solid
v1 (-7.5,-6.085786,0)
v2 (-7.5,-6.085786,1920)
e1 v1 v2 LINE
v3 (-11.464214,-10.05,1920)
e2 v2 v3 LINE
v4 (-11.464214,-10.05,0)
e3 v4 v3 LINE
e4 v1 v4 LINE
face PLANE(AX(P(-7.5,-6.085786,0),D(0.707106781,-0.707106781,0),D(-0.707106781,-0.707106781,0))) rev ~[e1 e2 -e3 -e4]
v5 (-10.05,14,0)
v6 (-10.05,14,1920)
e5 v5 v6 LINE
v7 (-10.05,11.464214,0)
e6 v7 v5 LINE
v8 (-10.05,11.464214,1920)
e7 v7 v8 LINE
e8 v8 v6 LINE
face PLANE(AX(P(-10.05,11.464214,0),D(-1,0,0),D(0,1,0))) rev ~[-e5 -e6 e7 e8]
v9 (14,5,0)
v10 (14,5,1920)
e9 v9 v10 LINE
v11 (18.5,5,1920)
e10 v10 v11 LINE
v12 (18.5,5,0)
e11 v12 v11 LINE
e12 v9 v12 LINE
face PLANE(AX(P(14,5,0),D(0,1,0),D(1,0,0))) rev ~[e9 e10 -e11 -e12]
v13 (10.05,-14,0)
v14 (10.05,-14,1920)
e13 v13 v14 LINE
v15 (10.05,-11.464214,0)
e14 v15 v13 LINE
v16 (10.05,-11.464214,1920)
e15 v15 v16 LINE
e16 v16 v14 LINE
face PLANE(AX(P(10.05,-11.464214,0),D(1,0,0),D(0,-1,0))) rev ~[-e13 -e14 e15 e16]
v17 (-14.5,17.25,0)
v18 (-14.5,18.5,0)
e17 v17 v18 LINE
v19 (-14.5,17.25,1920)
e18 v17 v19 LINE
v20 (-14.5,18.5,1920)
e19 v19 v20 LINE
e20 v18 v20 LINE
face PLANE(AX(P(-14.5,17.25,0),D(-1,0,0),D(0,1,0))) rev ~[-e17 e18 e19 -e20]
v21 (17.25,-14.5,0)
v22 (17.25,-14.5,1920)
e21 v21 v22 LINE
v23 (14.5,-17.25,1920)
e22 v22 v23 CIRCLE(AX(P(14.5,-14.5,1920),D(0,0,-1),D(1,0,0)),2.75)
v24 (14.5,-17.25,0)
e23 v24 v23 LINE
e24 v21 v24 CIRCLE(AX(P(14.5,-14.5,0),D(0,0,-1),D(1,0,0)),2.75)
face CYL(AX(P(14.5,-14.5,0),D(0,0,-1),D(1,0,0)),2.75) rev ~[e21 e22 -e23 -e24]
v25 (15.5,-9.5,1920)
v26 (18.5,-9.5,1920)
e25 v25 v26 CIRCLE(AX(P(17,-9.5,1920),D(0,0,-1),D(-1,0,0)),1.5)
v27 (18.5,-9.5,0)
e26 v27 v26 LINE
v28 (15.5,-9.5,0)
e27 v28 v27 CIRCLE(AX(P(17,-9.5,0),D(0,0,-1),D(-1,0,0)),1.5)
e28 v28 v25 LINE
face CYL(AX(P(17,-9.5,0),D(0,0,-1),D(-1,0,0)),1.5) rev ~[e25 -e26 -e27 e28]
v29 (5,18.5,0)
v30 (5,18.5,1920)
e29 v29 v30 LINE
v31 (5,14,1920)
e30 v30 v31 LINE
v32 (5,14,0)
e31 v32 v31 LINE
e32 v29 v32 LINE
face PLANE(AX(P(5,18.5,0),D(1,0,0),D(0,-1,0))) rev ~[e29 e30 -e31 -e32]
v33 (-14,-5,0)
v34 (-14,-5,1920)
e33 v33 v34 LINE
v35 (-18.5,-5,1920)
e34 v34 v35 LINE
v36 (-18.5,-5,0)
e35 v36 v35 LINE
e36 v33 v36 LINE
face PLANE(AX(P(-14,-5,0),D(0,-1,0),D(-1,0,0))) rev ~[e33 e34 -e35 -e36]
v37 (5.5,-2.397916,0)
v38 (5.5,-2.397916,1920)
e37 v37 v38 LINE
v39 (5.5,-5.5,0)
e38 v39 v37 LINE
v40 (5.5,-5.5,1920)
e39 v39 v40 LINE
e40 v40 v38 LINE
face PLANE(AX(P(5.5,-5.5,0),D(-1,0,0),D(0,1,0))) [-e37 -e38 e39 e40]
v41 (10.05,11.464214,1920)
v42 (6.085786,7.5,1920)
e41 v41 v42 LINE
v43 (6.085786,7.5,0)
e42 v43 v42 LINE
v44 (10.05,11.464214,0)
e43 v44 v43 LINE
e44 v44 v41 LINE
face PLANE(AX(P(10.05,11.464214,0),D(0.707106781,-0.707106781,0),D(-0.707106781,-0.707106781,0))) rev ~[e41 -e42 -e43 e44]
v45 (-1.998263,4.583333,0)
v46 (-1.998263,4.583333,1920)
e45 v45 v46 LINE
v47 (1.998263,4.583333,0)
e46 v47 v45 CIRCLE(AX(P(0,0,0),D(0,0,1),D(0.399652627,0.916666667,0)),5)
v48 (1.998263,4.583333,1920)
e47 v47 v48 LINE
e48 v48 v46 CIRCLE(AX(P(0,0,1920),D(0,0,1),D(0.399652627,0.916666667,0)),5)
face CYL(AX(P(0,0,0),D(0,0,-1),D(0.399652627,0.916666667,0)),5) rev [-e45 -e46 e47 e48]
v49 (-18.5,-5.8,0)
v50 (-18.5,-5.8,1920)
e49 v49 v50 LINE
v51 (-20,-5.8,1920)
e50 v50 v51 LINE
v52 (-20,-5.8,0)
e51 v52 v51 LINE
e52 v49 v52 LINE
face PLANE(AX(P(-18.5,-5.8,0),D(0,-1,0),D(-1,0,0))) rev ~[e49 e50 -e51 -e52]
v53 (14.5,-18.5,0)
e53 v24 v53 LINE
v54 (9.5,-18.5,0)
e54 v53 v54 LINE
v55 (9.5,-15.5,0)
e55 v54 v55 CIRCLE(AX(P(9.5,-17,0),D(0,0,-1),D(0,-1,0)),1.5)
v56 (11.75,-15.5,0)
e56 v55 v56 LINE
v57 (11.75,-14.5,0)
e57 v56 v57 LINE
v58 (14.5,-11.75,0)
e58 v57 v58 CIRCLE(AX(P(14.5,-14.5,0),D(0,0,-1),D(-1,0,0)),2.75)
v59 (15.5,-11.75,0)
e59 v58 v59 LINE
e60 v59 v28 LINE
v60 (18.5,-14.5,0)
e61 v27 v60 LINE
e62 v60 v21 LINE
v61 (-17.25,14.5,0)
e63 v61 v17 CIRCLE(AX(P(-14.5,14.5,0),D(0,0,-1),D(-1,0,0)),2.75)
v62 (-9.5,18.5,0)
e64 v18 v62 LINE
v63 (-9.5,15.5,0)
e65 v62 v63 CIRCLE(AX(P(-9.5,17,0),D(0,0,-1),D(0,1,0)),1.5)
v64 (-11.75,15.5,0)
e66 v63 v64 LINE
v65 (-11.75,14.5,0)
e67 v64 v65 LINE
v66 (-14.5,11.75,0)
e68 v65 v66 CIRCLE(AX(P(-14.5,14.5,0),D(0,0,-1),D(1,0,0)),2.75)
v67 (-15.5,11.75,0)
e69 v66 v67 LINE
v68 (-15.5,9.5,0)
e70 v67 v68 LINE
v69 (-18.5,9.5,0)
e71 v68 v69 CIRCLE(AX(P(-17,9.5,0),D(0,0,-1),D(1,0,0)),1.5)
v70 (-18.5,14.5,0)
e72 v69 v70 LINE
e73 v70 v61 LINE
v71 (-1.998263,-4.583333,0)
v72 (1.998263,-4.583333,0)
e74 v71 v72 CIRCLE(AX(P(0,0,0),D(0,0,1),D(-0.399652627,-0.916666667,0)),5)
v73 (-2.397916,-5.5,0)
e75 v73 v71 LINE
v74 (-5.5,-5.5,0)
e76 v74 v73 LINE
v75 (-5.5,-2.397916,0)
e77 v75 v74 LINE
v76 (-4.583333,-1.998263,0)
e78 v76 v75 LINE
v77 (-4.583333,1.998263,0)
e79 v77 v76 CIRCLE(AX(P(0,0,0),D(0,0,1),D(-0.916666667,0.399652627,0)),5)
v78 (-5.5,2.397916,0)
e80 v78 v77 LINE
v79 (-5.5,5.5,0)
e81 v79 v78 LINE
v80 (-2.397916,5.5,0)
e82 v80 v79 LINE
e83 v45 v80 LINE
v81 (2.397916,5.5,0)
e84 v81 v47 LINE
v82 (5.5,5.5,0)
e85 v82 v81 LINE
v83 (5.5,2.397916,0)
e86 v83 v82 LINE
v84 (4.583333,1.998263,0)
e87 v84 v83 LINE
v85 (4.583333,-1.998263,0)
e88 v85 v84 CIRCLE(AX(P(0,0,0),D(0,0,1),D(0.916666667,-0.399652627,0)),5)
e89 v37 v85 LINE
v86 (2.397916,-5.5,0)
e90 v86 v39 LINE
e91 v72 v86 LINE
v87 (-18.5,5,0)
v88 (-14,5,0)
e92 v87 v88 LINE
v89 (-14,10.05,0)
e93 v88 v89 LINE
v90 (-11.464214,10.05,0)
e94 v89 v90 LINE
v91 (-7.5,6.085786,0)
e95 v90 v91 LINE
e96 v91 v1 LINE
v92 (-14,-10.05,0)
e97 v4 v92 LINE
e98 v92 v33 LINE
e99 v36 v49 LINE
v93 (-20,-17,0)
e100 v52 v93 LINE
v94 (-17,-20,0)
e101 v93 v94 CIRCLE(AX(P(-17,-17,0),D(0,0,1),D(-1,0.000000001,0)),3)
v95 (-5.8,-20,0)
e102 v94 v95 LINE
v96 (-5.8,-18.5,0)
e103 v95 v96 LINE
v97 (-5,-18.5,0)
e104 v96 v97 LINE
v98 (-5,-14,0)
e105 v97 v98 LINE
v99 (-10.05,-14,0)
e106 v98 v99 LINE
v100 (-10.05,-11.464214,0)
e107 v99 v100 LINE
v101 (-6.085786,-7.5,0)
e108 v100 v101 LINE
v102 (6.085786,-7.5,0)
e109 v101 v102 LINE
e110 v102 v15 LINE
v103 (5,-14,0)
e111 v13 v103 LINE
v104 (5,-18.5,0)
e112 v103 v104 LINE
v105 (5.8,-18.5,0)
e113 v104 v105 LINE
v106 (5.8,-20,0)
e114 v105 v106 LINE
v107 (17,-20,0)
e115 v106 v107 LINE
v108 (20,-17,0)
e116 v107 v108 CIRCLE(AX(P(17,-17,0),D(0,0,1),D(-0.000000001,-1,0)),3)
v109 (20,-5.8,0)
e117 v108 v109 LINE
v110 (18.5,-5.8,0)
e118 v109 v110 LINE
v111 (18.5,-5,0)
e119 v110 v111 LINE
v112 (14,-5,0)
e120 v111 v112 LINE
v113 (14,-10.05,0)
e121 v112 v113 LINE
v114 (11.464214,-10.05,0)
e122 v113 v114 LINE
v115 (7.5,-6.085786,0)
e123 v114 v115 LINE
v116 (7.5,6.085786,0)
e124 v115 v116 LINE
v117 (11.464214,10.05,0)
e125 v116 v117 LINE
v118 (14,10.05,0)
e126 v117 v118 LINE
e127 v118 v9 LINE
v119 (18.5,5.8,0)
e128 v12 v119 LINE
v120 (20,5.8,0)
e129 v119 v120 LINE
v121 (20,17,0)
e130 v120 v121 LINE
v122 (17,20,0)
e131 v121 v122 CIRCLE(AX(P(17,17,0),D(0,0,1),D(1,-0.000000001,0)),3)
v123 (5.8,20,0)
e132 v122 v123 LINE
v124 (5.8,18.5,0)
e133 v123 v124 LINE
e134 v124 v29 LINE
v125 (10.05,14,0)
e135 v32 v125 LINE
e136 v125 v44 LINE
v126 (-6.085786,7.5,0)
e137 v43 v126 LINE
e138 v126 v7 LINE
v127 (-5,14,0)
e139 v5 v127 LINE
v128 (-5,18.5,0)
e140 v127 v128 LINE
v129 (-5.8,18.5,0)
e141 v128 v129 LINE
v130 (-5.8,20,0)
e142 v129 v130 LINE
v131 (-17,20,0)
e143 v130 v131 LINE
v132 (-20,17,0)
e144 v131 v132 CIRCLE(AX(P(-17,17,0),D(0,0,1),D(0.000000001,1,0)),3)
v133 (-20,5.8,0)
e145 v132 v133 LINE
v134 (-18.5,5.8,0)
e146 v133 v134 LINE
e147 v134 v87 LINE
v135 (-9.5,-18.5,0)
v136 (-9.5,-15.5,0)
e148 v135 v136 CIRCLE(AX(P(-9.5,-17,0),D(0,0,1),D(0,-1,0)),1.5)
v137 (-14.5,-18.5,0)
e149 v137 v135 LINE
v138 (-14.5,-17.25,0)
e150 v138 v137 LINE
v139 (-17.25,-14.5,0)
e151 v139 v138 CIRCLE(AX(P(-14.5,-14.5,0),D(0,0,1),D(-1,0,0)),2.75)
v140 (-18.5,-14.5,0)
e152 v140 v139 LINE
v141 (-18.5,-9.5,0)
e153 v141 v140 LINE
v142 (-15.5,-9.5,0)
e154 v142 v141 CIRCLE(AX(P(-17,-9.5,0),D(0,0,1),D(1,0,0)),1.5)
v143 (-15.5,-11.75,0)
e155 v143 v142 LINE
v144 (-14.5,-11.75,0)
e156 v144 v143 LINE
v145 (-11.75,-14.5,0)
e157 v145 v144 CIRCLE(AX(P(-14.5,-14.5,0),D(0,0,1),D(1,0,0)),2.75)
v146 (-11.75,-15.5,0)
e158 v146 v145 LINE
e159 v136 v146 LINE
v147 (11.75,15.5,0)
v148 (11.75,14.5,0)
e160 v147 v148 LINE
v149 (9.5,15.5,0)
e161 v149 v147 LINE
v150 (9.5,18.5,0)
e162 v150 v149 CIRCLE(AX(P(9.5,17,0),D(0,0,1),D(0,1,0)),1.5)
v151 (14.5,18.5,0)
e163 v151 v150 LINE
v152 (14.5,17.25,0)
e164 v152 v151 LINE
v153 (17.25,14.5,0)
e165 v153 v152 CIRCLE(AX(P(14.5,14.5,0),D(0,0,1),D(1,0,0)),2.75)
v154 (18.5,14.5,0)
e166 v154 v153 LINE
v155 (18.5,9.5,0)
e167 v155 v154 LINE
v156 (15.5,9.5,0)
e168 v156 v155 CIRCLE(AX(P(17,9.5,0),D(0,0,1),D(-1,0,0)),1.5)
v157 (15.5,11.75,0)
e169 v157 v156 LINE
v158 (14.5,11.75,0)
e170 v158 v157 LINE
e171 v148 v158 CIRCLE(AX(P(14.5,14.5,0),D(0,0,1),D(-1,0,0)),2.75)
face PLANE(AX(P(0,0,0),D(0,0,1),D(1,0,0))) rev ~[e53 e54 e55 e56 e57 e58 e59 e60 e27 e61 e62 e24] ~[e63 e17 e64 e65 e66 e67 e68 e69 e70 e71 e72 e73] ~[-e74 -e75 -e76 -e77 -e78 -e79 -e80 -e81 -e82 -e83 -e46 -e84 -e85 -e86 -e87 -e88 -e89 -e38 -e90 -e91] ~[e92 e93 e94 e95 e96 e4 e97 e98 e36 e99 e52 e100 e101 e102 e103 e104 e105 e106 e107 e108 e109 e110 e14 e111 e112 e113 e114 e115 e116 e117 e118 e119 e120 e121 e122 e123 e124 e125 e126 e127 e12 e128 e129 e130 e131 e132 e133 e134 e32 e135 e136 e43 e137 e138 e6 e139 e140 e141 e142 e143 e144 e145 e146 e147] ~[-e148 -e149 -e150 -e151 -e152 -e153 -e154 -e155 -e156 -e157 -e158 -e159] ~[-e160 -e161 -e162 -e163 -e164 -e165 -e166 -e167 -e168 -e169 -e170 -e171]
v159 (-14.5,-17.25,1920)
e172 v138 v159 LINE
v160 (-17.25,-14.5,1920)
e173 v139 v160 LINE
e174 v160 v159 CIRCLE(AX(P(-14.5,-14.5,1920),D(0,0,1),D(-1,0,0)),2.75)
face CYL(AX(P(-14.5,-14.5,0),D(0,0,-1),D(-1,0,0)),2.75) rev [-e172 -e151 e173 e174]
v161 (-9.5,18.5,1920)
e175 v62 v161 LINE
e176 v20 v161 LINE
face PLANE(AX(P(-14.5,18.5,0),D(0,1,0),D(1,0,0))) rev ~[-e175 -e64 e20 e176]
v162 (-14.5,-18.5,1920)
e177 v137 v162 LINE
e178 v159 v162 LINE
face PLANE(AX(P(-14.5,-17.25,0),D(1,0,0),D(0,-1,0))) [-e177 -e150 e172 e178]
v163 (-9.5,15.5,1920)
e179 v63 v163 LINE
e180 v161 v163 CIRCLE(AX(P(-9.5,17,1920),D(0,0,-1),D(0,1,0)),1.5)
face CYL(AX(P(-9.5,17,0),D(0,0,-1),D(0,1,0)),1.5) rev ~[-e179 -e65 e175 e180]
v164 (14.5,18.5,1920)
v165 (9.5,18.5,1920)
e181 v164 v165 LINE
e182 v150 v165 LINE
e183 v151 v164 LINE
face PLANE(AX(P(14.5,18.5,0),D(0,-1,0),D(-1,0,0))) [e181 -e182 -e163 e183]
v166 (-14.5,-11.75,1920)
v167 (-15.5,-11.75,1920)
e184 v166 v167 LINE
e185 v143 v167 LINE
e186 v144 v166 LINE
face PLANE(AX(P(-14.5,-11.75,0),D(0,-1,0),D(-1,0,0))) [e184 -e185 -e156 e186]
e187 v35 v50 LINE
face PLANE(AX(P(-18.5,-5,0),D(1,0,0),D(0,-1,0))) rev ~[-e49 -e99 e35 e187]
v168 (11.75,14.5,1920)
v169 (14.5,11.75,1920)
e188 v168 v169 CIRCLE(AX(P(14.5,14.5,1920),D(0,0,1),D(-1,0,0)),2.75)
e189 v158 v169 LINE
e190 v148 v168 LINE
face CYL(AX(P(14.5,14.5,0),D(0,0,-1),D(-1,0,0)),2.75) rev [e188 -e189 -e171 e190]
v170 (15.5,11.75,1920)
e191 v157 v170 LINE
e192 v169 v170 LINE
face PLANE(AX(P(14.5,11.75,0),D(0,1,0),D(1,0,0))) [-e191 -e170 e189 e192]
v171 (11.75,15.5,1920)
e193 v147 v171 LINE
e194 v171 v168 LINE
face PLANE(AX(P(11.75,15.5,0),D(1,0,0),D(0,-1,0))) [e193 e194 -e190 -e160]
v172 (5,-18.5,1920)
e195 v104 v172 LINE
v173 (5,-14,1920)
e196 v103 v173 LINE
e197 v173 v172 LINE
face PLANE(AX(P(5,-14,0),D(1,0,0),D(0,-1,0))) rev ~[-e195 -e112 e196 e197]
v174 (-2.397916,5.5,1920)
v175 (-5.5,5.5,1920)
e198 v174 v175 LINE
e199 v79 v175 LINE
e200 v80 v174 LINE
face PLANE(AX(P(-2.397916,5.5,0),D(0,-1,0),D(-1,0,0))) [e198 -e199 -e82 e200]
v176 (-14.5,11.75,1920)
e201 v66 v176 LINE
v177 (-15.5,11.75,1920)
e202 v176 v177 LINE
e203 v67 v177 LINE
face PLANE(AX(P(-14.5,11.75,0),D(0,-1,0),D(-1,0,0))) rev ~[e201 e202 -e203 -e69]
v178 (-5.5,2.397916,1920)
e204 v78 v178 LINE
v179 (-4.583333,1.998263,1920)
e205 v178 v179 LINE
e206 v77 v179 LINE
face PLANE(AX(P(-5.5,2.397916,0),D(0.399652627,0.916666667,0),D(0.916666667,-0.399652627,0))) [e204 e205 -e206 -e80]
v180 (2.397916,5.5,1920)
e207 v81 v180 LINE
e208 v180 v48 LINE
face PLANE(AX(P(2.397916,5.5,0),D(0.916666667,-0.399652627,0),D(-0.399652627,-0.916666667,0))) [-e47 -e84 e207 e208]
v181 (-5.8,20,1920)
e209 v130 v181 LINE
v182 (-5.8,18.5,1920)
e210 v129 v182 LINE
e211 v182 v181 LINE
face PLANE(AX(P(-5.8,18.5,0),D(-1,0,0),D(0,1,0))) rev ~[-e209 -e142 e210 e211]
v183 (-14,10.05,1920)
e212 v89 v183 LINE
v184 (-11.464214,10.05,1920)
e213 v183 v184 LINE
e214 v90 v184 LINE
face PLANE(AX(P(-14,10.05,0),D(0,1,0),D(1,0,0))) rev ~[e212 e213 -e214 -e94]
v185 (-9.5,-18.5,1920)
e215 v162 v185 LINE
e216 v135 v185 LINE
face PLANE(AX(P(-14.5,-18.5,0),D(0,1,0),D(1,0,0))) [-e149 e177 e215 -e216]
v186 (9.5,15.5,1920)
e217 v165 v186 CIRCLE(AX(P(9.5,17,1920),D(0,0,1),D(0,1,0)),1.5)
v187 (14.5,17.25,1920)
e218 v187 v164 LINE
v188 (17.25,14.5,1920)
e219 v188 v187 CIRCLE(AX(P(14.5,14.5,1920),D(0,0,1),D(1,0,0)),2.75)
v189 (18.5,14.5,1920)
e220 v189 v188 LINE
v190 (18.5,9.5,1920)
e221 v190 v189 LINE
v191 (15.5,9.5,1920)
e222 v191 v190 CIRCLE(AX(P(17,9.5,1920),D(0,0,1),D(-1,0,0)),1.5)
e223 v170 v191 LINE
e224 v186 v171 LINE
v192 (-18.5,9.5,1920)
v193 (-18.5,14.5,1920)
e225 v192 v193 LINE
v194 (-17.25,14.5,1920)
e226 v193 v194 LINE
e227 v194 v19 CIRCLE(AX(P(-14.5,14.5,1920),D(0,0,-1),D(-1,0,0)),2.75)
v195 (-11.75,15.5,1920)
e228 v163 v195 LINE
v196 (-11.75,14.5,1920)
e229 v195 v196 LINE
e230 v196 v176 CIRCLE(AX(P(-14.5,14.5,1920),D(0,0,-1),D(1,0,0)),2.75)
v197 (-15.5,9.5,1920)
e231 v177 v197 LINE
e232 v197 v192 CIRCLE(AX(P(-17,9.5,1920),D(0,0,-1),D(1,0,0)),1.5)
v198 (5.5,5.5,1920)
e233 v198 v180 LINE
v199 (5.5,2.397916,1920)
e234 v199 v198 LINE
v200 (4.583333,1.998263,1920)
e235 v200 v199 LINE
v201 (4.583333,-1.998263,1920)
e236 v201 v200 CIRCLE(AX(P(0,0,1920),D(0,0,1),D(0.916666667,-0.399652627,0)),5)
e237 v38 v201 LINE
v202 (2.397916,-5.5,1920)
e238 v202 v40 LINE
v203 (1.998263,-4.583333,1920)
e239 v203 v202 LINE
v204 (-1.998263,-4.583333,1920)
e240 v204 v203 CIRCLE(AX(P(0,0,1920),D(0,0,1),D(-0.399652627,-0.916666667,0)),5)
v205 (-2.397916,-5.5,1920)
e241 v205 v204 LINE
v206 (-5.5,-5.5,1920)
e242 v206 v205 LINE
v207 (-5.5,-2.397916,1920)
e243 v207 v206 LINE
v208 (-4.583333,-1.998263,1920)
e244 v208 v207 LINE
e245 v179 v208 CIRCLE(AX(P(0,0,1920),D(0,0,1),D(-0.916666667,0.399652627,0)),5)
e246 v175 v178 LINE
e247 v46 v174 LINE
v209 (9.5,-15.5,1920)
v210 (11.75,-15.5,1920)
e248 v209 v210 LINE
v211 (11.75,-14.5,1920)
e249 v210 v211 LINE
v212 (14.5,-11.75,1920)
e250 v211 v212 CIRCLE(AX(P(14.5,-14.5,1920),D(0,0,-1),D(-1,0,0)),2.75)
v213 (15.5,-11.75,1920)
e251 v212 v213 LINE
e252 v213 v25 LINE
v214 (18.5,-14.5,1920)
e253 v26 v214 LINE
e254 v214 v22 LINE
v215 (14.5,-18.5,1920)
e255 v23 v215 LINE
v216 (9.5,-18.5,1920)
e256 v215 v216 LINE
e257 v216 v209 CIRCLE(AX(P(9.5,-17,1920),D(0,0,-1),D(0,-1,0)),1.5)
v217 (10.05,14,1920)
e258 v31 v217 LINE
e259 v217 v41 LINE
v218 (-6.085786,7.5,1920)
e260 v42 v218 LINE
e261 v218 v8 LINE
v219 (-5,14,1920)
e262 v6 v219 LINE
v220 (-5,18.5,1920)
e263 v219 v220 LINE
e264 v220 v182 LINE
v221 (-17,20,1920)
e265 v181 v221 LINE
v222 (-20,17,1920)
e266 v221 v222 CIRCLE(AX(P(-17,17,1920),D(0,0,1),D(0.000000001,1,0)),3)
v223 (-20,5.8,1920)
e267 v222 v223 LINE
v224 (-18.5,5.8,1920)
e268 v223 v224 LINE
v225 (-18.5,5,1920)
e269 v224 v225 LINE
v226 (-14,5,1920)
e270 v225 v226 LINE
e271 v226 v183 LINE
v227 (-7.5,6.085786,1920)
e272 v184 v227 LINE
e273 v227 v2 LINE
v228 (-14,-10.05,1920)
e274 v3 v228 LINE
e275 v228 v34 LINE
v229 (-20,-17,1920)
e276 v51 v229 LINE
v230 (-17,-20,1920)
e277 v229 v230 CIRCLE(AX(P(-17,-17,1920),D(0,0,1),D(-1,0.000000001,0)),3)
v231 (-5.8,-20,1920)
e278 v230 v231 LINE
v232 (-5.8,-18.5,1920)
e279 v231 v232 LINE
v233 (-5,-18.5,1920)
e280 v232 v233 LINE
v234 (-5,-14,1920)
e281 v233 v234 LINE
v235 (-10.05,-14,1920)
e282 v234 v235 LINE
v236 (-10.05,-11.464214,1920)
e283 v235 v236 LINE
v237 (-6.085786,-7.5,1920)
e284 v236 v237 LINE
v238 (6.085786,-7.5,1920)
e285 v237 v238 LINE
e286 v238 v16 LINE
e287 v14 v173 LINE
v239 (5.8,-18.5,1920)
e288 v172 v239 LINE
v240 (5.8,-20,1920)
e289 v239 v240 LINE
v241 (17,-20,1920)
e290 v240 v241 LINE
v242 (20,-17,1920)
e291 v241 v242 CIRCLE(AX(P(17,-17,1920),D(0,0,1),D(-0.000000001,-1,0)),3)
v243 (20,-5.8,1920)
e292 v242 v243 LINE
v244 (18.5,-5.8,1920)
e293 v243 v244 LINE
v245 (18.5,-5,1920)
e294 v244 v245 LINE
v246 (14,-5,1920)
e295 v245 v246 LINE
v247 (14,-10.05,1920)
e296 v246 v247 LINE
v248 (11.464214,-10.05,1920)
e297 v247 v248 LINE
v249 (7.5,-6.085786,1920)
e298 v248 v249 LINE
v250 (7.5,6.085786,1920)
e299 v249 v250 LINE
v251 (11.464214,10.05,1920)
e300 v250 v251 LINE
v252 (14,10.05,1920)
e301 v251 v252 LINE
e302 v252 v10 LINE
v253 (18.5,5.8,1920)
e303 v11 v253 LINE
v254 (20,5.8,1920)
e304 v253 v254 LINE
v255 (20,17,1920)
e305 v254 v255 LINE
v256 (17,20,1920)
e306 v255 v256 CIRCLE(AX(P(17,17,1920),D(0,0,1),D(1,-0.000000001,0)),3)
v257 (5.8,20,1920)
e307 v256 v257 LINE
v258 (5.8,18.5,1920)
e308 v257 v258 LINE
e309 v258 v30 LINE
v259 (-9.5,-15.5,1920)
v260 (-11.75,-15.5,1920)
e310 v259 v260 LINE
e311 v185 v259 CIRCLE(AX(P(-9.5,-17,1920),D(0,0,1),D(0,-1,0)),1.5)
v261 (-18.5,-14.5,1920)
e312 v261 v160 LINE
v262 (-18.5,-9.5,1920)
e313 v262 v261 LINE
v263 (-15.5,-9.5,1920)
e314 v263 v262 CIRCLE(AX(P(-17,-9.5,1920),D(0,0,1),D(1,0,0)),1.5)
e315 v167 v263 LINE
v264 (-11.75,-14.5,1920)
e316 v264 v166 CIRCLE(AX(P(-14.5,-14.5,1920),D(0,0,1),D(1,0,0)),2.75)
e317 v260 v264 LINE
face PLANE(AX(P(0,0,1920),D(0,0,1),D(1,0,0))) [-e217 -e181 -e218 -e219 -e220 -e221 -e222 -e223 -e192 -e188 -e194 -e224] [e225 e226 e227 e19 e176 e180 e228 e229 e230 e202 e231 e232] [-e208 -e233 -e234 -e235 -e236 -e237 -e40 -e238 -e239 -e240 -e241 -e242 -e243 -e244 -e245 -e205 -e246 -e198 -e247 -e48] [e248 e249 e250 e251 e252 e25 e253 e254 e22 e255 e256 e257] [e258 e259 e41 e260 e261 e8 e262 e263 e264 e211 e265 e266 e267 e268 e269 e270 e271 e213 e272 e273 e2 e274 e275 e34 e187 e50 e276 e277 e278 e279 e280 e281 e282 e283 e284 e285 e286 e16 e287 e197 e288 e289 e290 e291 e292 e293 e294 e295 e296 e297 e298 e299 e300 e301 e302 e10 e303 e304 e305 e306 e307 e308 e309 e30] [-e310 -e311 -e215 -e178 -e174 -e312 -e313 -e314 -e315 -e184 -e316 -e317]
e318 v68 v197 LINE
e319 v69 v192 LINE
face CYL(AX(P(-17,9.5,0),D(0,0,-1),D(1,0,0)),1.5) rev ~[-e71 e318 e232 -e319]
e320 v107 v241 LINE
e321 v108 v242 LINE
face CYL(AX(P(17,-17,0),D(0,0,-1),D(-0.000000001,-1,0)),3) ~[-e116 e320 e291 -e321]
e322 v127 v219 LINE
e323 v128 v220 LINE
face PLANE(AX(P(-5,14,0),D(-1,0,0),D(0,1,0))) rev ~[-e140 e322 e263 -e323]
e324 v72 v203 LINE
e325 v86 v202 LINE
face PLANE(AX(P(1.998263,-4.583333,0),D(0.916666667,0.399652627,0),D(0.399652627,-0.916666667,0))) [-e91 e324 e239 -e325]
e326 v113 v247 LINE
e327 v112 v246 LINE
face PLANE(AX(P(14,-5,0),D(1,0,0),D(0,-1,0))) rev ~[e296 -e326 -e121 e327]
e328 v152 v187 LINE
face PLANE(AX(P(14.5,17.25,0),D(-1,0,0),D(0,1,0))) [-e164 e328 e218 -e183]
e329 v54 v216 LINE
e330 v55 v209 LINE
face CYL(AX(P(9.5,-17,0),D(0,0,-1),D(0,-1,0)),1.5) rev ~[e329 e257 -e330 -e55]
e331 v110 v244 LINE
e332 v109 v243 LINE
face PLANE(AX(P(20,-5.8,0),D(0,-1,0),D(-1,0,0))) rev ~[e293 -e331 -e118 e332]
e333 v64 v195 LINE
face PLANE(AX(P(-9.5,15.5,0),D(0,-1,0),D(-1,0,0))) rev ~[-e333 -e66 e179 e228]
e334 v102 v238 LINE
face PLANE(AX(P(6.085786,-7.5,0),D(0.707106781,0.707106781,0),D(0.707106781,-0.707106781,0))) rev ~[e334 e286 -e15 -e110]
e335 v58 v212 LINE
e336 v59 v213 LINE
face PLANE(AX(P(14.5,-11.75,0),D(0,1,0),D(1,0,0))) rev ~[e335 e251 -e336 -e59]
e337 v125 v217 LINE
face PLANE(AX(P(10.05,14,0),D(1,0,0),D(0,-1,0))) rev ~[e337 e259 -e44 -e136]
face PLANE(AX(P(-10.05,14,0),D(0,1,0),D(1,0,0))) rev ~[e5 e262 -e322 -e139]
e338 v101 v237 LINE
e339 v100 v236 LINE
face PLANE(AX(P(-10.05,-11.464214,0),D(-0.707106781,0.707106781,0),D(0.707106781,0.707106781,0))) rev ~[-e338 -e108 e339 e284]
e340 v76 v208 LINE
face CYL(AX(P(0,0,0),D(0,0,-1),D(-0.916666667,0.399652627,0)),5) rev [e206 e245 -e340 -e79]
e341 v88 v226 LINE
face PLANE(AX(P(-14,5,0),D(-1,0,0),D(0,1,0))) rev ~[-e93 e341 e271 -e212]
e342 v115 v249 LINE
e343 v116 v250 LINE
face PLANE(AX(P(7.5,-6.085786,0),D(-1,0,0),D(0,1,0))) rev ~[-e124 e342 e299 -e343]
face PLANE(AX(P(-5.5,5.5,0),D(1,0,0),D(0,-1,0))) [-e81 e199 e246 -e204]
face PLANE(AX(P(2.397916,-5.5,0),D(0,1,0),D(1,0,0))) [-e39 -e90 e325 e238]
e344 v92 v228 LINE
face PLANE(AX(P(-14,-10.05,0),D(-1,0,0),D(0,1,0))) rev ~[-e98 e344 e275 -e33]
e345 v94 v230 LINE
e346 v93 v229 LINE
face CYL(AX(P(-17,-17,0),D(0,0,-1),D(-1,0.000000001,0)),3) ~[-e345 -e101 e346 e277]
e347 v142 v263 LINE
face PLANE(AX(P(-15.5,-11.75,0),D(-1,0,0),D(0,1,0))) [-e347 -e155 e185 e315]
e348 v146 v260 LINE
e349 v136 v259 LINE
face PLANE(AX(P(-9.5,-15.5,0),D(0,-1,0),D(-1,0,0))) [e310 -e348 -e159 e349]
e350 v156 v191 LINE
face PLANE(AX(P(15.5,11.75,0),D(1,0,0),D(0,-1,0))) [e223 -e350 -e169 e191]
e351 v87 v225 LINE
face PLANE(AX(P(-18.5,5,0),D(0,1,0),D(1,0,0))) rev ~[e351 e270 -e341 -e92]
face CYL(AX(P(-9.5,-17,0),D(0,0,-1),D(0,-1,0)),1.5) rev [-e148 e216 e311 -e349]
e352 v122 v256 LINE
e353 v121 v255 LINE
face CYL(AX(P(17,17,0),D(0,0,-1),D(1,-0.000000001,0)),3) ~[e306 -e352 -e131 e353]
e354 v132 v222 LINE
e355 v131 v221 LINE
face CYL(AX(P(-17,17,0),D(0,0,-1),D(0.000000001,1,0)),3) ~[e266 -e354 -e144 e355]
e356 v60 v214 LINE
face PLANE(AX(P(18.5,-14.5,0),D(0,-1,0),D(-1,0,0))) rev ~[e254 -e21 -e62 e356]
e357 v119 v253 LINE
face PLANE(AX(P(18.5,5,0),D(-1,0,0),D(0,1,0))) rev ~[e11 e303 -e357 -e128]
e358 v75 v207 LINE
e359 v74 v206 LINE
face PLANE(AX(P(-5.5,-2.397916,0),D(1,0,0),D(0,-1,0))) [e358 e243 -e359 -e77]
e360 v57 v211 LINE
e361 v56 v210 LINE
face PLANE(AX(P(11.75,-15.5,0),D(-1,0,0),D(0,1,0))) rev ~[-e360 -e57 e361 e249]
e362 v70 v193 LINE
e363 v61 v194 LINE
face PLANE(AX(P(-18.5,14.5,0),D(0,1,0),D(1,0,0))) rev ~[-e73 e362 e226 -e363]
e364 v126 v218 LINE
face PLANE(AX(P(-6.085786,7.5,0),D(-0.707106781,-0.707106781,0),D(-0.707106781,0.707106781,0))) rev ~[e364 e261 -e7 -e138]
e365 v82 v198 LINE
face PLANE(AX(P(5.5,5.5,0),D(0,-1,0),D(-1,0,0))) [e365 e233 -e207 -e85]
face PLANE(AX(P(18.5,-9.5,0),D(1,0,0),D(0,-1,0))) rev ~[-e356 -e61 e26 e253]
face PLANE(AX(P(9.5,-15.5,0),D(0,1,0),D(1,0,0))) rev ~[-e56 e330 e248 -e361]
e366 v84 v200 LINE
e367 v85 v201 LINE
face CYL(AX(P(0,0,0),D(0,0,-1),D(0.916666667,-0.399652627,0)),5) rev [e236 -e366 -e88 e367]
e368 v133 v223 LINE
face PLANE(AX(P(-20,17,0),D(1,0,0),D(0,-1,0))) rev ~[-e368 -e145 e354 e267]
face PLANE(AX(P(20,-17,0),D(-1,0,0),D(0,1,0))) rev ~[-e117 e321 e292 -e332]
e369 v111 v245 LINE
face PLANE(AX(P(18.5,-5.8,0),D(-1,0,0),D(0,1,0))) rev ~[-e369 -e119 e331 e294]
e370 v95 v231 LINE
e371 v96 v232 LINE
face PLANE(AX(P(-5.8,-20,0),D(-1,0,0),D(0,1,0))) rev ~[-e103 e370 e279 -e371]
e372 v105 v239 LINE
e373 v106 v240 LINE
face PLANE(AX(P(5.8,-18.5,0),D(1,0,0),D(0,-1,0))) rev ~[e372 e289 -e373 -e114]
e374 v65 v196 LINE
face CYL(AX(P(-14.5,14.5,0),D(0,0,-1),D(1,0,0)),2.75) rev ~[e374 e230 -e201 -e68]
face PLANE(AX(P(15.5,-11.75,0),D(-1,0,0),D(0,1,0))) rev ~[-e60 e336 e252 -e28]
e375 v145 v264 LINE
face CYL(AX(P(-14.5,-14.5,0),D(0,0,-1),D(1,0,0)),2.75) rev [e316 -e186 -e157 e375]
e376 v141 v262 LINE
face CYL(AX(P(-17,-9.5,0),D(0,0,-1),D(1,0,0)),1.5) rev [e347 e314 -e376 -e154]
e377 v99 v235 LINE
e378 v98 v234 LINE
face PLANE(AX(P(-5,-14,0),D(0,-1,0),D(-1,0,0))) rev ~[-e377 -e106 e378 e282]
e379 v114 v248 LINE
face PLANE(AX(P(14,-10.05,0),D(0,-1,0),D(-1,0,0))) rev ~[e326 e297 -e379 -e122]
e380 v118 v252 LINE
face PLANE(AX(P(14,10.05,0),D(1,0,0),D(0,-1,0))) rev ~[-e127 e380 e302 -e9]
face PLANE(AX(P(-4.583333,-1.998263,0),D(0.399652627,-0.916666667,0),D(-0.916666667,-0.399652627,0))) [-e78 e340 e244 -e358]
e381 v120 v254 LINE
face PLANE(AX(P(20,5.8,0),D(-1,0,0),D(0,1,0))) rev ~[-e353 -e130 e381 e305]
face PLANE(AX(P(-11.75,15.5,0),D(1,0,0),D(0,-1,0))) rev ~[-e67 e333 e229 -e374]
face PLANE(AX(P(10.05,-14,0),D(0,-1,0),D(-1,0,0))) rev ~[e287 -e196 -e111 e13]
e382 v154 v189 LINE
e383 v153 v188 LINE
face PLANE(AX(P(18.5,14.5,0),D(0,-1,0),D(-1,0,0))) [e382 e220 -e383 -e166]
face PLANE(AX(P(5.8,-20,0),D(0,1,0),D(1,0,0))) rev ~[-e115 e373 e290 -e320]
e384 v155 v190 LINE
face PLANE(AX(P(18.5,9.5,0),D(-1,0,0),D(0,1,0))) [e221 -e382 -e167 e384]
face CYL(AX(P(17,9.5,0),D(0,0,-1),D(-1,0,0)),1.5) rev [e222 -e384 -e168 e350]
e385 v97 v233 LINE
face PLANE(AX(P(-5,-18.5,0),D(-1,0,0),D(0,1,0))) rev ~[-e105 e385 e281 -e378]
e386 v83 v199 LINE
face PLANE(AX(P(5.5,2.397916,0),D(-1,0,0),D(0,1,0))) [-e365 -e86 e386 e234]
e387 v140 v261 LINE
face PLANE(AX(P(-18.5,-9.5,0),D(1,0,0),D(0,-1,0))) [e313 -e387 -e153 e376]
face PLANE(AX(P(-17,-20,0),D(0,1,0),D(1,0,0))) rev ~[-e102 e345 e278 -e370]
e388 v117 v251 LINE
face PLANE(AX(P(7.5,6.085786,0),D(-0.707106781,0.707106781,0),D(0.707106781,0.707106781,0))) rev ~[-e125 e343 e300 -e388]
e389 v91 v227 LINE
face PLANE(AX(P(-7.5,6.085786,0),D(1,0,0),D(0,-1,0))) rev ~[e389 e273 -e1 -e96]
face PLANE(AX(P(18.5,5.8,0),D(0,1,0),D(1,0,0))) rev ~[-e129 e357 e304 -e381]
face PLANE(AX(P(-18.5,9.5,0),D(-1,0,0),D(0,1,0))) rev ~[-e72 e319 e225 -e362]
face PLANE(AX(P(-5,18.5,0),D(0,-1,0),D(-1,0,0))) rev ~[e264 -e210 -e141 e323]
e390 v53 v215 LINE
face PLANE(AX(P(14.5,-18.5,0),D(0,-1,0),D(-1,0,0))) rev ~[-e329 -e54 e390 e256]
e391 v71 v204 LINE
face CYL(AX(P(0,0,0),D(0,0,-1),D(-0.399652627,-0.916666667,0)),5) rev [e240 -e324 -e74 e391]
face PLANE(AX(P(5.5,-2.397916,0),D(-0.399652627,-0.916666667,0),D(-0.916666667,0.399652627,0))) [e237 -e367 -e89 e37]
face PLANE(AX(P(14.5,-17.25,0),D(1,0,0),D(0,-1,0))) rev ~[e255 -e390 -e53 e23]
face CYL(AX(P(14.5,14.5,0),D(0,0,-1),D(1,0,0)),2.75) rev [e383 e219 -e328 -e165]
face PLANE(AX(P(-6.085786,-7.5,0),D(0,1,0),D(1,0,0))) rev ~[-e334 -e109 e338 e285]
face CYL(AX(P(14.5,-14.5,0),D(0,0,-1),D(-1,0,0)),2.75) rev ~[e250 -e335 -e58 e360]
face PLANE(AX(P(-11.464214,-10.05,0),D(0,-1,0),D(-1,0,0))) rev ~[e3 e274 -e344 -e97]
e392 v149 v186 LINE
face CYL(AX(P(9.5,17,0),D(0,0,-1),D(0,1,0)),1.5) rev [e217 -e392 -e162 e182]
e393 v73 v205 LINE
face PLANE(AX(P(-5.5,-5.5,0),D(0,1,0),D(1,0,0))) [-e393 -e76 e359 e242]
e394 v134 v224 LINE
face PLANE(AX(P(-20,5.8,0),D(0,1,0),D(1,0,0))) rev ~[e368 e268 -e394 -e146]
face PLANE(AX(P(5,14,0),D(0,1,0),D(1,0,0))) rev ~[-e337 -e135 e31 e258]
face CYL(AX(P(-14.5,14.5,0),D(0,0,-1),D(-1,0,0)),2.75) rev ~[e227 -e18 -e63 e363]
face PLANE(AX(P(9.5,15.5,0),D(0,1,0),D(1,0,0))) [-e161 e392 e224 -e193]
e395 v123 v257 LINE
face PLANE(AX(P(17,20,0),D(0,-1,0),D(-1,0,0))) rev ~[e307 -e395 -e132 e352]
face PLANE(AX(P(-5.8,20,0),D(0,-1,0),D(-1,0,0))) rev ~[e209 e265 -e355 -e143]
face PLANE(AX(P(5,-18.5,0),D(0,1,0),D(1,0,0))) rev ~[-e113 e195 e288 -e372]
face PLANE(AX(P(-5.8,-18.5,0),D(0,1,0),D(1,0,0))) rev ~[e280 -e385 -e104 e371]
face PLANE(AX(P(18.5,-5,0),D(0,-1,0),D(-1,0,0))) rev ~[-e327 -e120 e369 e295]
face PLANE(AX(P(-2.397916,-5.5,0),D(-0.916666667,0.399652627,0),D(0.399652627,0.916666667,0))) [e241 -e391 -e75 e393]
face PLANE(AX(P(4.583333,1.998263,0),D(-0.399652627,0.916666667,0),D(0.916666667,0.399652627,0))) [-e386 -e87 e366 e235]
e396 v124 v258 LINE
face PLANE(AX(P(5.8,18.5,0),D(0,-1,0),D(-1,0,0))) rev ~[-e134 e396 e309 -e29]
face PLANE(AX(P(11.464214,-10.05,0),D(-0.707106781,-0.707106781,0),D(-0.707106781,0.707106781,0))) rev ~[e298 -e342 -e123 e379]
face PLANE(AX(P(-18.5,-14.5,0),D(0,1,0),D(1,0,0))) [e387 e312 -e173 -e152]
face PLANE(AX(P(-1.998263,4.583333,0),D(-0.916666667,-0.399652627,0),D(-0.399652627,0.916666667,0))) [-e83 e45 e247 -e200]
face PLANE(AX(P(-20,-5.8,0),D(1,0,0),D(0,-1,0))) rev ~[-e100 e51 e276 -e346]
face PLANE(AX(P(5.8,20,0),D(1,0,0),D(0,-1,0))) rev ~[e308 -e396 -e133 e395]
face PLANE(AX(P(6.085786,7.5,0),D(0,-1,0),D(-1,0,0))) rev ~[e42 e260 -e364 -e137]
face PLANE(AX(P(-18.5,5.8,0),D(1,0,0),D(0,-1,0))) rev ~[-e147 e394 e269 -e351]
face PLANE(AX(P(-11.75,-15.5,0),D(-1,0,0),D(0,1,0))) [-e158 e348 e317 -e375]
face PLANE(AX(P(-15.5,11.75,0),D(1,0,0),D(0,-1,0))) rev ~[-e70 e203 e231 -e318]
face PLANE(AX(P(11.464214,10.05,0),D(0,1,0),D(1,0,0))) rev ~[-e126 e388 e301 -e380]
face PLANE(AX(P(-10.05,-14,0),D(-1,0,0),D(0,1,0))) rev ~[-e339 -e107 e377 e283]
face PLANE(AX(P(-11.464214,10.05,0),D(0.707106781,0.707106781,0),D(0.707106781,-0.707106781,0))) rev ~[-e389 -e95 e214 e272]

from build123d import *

# Parameters (mm, degrees)
EXTRUDE1_DEPTH = 1920


with BuildPart() as part:
    # Sketch1 → Extrude1 (new body)
    with BuildSketch(Plane.XY):
        with BuildLine():
            Line((5.8, -20), (17, -20))
            ThreePointArc((17, -20), (19.121320344, -19.121320344), (20, -17))
            Line((20, -17), (20, -5.8))
            Line((20, -5.8), (18.5, -5.8))
            Line((18.5, -5.8), (18.5, -5))
            Line((18.5, -5), (14, -5))
            Line((14, -5), (14, -10.05))
            Line((14, -10.05), (11.464213562, -10.05))
            Line((11.464213562, -10.05), (7.5, -6.085786438))
            Line((7.5, -6.085786438), (7.5, 6.085786438))
            Line((7.5, 6.085786438), (11.464213562, 10.05))
            Line((11.464213562, 10.05), (14, 10.05))
            Line((14, 10.05), (14, 5))
            Line((14, 5), (18.5, 5))
            Line((18.5, 5), (18.5, 5.8))
            Line((18.5, 5.8), (20, 5.8))
            Line((20, 5.8), (20, 17))
            ThreePointArc((20, 17), (19.121320344, 19.121320344), (17, 20))
            Line((17, 20), (5.8, 20))
            Line((5.8, 20), (5.8, 18.5))
            Line((5.8, 18.5), (5, 18.5))
            Line((5, 18.5), (5, 14))
            Line((5, 14), (10.05, 14))
            Line((10.05, 14), (10.05, 11.464213562))
            Line((10.05, 11.464213562), (6.085786438, 7.5))
            Line((6.085786438, 7.5), (-6.085786438, 7.5))
            Line((-6.085786438, 7.5), (-10.05, 11.464213562))
            Line((-10.05, 11.464213562), (-10.05, 14))
            Line((-10.05, 14), (-5, 14))
            Line((-5, 14), (-5, 18.5))
            Line((-5, 18.5), (-5.8, 18.5))
            Line((-5.8, 18.5), (-5.8, 20))
            Line((-5.8, 20), (-17, 20))
            ThreePointArc((-17, 20), (-19.121320344, 19.121320344), (-20, 17))
            Line((-20, 17), (-20, 5.8))
            Line((-20, 5.8), (-18.5, 5.8))
            Line((-18.5, 5.8), (-18.5, 5))
            Line((-18.5, 5), (-14, 5))
            Line((-14, 5), (-14, 10.05))
            Line((-14, 10.05), (-11.464213562, 10.05))
            Line((-11.464213562, 10.05), (-7.5, 6.085786438))
            Line((-7.5, 6.085786438), (-7.5, -6.085786438))
            Line((-7.5, -6.085786438), (-11.464213562, -10.05))
            Line((-11.464213562, -10.05), (-14, -10.05))
            Line((-14, -10.05), (-14, -5))
            Line((-14, -5), (-18.5, -5))
            Line((-18.5, -5), (-18.5, -5.8))
            Line((-18.5, -5.8), (-20, -5.8))
            Line((-20, -5.8), (-20, -17))
            ThreePointArc((-20, -17), (-19.121320344, -19.121320344), (-17, -20))
            Line((-17, -20), (-5.8, -20))
            Line((-5.8, -20), (-5.8, -18.5))
            Line((-5.8, -18.5), (-5, -18.5))
            Line((-5, -18.5), (-5, -14))
            Line((-5, -14), (-10.05, -14))
            Line((-10.05, -14), (-10.05, -11.464213562))
            Line((-10.05, -11.464213562), (-6.085786438, -7.5))
            Line((-6.085786438, -7.5), (6.085786438, -7.5))
            Line((6.085786438, -7.5), (10.05, -11.464213562))
            Line((10.05, -11.464213562), (10.05, -14))
            Line((10.05, -14), (5, -14))
            Line((5, -14), (5, -18.5))
            Line((5, -18.5), (5.8, -18.5))
            Line((5.8, -18.5), (5.8, -20))
        make_face()
        with BuildLine():
            Line((14.5, -18.5), (9.5, -18.5))
            ThreePointArc((9.5, -18.5), (8, -17), (9.5, -15.5))
            Line((9.5, -15.5), (11.75, -15.5))
            Line((11.75, -15.5), (11.75, -14.5))
            ThreePointArc((11.75, -14.5), (12.555456352, -12.555456352), (14.5, -11.75))
            Line((14.5, -11.75), (15.5, -11.75))
            Line((15.5, -11.75), (15.5, -9.5))
            ThreePointArc((15.5, -9.5), (17, -8), (18.5, -9.5))
            Line((18.5, -9.5), (18.5, -14.5))
            Line((18.5, -14.5), (17.25, -14.5))
            ThreePointArc((17.25, -14.5), (16.444543648, -16.444543648), (14.5, -17.25))
            Line((14.5, -17.25), (14.5, -18.5))
        make_face(mode=Mode.SUBTRACT)
        with BuildLine():
            Line((18.5, 14.5), (17.25, 14.5))
            ThreePointArc((17.25, 14.5), (16.444543648, 16.444543648), (14.5, 17.25))
            Line((14.5, 17.25), (14.5, 18.5))
            Line((14.5, 18.5), (9.5, 18.5))
            ThreePointArc((9.5, 18.5), (8, 17), (9.5, 15.5))
            Line((9.5, 15.5), (11.75, 15.5))
            Line((11.75, 15.5), (11.75, 14.5))
            ThreePointArc((11.75, 14.5), (12.555456352, 12.555456352), (14.5, 11.75))
            Line((14.5, 11.75), (15.5, 11.75))
            Line((15.5, 11.75), (15.5, 9.5))
            ThreePointArc((15.5, 9.5), (17, 8), (18.5, 9.5))
            Line((18.5, 9.5), (18.5, 14.5))
        make_face(mode=Mode.SUBTRACT)
        with BuildLine():
            Line((5.5, 5.5), (2.397915762, 5.5))
            Line((2.397915762, 5.5), (1.998263135, 4.583333333))
            ThreePointArc((1.998263135, 4.583333333), (0, 5), (-1.998263135, 4.583333333))
            Line((-1.998263135, 4.583333333), (-2.397915762, 5.5))
            Line((-2.397915762, 5.5), (-5.5, 5.5))
            Line((-5.5, 5.5), (-5.5, 2.397915762))
            Line((-5.5, 2.397915762), (-4.583333333, 1.998263135))
            ThreePointArc((-4.583333333, 1.998263135), (-5, 0), (-4.583333333, -1.998263135))
            Line((-4.583333333, -1.998263135), (-5.5, -2.397915762))
            Line((-5.5, -2.397915762), (-5.5, -5.5))
            Line((-5.5, -5.5), (-2.397915762, -5.5))
            Line((-2.397915762, -5.5), (-1.998263135, -4.583333333))
            ThreePointArc((-1.998263135, -4.583333333), (0, -5), (1.998263135, -4.583333333))
            Line((1.998263135, -4.583333333), (2.397915762, -5.5))
            Line((2.397915762, -5.5), (5.5, -5.5))
            Line((5.5, -5.5), (5.5, -2.397915762))
            Line((5.5, -2.397915762), (4.583333333, -1.998263135))
            ThreePointArc((4.583333333, -1.998263135), (5, 0), (4.583333333, 1.998263135))
            Line((4.583333333, 1.998263135), (5.5, 2.397915762))
            Line((5.5, 2.397915762), (5.5, 5.5))
        make_face(mode=Mode.SUBTRACT)
        with BuildLine():
            Line((-18.5, -14.5), (-17.25, -14.5))
            ThreePointArc((-17.25, -14.5), (-16.444543648, -16.444543648), (-14.5, -17.25))
            Line((-14.5, -17.25), (-14.5, -18.5))
            Line((-14.5, -18.5), (-9.5, -18.5))
            ThreePointArc((-9.5, -18.5), (-8, -17), (-9.5, -15.5))
            Line((-9.5, -15.5), (-11.75, -15.5))
            Line((-11.75, -15.5), (-11.75, -14.5))
            ThreePointArc((-11.75, -14.5), (-12.555456352, -12.555456352), (-14.5, -11.75))
            Line((-14.5, -11.75), (-15.5, -11.75))
            Line((-15.5, -11.75), (-15.5, -9.5))
            ThreePointArc((-15.5, -9.5), (-17, -8), (-18.5, -9.5))
            Line((-18.5, -9.5), (-18.5, -14.5))
        make_face(mode=Mode.SUBTRACT)
        with BuildLine():
            Line((-14.5, 18.5), (-9.5, 18.5))
            ThreePointArc((-9.5, 18.5), (-8, 17), (-9.5, 15.5))
            Line((-9.5, 15.5), (-11.75, 15.5))
            Line((-11.75, 15.5), (-11.75, 14.5))
            ThreePointArc((-11.75, 14.5), (-12.555456352, 12.555456352), (-14.5, 11.75))
            Line((-14.5, 11.75), (-15.5, 11.75))
            Line((-15.5, 11.75), (-15.5, 9.5))
            ThreePointArc((-15.5, 9.5), (-17, 8), (-18.5, 9.5))
            Line((-18.5, 9.5), (-18.5, 14.5))
            Line((-18.5, 14.5), (-17.25, 14.5))
            ThreePointArc((-17.25, 14.5), (-16.444543648, 16.444543648), (-14.5, 17.25))
            Line((-14.5, 17.25), (-14.5, 18.5))
        make_face(mode=Mode.SUBTRACT)
    extrude(amount=EXTRUDE1_DEPTH)


solid = part.part
